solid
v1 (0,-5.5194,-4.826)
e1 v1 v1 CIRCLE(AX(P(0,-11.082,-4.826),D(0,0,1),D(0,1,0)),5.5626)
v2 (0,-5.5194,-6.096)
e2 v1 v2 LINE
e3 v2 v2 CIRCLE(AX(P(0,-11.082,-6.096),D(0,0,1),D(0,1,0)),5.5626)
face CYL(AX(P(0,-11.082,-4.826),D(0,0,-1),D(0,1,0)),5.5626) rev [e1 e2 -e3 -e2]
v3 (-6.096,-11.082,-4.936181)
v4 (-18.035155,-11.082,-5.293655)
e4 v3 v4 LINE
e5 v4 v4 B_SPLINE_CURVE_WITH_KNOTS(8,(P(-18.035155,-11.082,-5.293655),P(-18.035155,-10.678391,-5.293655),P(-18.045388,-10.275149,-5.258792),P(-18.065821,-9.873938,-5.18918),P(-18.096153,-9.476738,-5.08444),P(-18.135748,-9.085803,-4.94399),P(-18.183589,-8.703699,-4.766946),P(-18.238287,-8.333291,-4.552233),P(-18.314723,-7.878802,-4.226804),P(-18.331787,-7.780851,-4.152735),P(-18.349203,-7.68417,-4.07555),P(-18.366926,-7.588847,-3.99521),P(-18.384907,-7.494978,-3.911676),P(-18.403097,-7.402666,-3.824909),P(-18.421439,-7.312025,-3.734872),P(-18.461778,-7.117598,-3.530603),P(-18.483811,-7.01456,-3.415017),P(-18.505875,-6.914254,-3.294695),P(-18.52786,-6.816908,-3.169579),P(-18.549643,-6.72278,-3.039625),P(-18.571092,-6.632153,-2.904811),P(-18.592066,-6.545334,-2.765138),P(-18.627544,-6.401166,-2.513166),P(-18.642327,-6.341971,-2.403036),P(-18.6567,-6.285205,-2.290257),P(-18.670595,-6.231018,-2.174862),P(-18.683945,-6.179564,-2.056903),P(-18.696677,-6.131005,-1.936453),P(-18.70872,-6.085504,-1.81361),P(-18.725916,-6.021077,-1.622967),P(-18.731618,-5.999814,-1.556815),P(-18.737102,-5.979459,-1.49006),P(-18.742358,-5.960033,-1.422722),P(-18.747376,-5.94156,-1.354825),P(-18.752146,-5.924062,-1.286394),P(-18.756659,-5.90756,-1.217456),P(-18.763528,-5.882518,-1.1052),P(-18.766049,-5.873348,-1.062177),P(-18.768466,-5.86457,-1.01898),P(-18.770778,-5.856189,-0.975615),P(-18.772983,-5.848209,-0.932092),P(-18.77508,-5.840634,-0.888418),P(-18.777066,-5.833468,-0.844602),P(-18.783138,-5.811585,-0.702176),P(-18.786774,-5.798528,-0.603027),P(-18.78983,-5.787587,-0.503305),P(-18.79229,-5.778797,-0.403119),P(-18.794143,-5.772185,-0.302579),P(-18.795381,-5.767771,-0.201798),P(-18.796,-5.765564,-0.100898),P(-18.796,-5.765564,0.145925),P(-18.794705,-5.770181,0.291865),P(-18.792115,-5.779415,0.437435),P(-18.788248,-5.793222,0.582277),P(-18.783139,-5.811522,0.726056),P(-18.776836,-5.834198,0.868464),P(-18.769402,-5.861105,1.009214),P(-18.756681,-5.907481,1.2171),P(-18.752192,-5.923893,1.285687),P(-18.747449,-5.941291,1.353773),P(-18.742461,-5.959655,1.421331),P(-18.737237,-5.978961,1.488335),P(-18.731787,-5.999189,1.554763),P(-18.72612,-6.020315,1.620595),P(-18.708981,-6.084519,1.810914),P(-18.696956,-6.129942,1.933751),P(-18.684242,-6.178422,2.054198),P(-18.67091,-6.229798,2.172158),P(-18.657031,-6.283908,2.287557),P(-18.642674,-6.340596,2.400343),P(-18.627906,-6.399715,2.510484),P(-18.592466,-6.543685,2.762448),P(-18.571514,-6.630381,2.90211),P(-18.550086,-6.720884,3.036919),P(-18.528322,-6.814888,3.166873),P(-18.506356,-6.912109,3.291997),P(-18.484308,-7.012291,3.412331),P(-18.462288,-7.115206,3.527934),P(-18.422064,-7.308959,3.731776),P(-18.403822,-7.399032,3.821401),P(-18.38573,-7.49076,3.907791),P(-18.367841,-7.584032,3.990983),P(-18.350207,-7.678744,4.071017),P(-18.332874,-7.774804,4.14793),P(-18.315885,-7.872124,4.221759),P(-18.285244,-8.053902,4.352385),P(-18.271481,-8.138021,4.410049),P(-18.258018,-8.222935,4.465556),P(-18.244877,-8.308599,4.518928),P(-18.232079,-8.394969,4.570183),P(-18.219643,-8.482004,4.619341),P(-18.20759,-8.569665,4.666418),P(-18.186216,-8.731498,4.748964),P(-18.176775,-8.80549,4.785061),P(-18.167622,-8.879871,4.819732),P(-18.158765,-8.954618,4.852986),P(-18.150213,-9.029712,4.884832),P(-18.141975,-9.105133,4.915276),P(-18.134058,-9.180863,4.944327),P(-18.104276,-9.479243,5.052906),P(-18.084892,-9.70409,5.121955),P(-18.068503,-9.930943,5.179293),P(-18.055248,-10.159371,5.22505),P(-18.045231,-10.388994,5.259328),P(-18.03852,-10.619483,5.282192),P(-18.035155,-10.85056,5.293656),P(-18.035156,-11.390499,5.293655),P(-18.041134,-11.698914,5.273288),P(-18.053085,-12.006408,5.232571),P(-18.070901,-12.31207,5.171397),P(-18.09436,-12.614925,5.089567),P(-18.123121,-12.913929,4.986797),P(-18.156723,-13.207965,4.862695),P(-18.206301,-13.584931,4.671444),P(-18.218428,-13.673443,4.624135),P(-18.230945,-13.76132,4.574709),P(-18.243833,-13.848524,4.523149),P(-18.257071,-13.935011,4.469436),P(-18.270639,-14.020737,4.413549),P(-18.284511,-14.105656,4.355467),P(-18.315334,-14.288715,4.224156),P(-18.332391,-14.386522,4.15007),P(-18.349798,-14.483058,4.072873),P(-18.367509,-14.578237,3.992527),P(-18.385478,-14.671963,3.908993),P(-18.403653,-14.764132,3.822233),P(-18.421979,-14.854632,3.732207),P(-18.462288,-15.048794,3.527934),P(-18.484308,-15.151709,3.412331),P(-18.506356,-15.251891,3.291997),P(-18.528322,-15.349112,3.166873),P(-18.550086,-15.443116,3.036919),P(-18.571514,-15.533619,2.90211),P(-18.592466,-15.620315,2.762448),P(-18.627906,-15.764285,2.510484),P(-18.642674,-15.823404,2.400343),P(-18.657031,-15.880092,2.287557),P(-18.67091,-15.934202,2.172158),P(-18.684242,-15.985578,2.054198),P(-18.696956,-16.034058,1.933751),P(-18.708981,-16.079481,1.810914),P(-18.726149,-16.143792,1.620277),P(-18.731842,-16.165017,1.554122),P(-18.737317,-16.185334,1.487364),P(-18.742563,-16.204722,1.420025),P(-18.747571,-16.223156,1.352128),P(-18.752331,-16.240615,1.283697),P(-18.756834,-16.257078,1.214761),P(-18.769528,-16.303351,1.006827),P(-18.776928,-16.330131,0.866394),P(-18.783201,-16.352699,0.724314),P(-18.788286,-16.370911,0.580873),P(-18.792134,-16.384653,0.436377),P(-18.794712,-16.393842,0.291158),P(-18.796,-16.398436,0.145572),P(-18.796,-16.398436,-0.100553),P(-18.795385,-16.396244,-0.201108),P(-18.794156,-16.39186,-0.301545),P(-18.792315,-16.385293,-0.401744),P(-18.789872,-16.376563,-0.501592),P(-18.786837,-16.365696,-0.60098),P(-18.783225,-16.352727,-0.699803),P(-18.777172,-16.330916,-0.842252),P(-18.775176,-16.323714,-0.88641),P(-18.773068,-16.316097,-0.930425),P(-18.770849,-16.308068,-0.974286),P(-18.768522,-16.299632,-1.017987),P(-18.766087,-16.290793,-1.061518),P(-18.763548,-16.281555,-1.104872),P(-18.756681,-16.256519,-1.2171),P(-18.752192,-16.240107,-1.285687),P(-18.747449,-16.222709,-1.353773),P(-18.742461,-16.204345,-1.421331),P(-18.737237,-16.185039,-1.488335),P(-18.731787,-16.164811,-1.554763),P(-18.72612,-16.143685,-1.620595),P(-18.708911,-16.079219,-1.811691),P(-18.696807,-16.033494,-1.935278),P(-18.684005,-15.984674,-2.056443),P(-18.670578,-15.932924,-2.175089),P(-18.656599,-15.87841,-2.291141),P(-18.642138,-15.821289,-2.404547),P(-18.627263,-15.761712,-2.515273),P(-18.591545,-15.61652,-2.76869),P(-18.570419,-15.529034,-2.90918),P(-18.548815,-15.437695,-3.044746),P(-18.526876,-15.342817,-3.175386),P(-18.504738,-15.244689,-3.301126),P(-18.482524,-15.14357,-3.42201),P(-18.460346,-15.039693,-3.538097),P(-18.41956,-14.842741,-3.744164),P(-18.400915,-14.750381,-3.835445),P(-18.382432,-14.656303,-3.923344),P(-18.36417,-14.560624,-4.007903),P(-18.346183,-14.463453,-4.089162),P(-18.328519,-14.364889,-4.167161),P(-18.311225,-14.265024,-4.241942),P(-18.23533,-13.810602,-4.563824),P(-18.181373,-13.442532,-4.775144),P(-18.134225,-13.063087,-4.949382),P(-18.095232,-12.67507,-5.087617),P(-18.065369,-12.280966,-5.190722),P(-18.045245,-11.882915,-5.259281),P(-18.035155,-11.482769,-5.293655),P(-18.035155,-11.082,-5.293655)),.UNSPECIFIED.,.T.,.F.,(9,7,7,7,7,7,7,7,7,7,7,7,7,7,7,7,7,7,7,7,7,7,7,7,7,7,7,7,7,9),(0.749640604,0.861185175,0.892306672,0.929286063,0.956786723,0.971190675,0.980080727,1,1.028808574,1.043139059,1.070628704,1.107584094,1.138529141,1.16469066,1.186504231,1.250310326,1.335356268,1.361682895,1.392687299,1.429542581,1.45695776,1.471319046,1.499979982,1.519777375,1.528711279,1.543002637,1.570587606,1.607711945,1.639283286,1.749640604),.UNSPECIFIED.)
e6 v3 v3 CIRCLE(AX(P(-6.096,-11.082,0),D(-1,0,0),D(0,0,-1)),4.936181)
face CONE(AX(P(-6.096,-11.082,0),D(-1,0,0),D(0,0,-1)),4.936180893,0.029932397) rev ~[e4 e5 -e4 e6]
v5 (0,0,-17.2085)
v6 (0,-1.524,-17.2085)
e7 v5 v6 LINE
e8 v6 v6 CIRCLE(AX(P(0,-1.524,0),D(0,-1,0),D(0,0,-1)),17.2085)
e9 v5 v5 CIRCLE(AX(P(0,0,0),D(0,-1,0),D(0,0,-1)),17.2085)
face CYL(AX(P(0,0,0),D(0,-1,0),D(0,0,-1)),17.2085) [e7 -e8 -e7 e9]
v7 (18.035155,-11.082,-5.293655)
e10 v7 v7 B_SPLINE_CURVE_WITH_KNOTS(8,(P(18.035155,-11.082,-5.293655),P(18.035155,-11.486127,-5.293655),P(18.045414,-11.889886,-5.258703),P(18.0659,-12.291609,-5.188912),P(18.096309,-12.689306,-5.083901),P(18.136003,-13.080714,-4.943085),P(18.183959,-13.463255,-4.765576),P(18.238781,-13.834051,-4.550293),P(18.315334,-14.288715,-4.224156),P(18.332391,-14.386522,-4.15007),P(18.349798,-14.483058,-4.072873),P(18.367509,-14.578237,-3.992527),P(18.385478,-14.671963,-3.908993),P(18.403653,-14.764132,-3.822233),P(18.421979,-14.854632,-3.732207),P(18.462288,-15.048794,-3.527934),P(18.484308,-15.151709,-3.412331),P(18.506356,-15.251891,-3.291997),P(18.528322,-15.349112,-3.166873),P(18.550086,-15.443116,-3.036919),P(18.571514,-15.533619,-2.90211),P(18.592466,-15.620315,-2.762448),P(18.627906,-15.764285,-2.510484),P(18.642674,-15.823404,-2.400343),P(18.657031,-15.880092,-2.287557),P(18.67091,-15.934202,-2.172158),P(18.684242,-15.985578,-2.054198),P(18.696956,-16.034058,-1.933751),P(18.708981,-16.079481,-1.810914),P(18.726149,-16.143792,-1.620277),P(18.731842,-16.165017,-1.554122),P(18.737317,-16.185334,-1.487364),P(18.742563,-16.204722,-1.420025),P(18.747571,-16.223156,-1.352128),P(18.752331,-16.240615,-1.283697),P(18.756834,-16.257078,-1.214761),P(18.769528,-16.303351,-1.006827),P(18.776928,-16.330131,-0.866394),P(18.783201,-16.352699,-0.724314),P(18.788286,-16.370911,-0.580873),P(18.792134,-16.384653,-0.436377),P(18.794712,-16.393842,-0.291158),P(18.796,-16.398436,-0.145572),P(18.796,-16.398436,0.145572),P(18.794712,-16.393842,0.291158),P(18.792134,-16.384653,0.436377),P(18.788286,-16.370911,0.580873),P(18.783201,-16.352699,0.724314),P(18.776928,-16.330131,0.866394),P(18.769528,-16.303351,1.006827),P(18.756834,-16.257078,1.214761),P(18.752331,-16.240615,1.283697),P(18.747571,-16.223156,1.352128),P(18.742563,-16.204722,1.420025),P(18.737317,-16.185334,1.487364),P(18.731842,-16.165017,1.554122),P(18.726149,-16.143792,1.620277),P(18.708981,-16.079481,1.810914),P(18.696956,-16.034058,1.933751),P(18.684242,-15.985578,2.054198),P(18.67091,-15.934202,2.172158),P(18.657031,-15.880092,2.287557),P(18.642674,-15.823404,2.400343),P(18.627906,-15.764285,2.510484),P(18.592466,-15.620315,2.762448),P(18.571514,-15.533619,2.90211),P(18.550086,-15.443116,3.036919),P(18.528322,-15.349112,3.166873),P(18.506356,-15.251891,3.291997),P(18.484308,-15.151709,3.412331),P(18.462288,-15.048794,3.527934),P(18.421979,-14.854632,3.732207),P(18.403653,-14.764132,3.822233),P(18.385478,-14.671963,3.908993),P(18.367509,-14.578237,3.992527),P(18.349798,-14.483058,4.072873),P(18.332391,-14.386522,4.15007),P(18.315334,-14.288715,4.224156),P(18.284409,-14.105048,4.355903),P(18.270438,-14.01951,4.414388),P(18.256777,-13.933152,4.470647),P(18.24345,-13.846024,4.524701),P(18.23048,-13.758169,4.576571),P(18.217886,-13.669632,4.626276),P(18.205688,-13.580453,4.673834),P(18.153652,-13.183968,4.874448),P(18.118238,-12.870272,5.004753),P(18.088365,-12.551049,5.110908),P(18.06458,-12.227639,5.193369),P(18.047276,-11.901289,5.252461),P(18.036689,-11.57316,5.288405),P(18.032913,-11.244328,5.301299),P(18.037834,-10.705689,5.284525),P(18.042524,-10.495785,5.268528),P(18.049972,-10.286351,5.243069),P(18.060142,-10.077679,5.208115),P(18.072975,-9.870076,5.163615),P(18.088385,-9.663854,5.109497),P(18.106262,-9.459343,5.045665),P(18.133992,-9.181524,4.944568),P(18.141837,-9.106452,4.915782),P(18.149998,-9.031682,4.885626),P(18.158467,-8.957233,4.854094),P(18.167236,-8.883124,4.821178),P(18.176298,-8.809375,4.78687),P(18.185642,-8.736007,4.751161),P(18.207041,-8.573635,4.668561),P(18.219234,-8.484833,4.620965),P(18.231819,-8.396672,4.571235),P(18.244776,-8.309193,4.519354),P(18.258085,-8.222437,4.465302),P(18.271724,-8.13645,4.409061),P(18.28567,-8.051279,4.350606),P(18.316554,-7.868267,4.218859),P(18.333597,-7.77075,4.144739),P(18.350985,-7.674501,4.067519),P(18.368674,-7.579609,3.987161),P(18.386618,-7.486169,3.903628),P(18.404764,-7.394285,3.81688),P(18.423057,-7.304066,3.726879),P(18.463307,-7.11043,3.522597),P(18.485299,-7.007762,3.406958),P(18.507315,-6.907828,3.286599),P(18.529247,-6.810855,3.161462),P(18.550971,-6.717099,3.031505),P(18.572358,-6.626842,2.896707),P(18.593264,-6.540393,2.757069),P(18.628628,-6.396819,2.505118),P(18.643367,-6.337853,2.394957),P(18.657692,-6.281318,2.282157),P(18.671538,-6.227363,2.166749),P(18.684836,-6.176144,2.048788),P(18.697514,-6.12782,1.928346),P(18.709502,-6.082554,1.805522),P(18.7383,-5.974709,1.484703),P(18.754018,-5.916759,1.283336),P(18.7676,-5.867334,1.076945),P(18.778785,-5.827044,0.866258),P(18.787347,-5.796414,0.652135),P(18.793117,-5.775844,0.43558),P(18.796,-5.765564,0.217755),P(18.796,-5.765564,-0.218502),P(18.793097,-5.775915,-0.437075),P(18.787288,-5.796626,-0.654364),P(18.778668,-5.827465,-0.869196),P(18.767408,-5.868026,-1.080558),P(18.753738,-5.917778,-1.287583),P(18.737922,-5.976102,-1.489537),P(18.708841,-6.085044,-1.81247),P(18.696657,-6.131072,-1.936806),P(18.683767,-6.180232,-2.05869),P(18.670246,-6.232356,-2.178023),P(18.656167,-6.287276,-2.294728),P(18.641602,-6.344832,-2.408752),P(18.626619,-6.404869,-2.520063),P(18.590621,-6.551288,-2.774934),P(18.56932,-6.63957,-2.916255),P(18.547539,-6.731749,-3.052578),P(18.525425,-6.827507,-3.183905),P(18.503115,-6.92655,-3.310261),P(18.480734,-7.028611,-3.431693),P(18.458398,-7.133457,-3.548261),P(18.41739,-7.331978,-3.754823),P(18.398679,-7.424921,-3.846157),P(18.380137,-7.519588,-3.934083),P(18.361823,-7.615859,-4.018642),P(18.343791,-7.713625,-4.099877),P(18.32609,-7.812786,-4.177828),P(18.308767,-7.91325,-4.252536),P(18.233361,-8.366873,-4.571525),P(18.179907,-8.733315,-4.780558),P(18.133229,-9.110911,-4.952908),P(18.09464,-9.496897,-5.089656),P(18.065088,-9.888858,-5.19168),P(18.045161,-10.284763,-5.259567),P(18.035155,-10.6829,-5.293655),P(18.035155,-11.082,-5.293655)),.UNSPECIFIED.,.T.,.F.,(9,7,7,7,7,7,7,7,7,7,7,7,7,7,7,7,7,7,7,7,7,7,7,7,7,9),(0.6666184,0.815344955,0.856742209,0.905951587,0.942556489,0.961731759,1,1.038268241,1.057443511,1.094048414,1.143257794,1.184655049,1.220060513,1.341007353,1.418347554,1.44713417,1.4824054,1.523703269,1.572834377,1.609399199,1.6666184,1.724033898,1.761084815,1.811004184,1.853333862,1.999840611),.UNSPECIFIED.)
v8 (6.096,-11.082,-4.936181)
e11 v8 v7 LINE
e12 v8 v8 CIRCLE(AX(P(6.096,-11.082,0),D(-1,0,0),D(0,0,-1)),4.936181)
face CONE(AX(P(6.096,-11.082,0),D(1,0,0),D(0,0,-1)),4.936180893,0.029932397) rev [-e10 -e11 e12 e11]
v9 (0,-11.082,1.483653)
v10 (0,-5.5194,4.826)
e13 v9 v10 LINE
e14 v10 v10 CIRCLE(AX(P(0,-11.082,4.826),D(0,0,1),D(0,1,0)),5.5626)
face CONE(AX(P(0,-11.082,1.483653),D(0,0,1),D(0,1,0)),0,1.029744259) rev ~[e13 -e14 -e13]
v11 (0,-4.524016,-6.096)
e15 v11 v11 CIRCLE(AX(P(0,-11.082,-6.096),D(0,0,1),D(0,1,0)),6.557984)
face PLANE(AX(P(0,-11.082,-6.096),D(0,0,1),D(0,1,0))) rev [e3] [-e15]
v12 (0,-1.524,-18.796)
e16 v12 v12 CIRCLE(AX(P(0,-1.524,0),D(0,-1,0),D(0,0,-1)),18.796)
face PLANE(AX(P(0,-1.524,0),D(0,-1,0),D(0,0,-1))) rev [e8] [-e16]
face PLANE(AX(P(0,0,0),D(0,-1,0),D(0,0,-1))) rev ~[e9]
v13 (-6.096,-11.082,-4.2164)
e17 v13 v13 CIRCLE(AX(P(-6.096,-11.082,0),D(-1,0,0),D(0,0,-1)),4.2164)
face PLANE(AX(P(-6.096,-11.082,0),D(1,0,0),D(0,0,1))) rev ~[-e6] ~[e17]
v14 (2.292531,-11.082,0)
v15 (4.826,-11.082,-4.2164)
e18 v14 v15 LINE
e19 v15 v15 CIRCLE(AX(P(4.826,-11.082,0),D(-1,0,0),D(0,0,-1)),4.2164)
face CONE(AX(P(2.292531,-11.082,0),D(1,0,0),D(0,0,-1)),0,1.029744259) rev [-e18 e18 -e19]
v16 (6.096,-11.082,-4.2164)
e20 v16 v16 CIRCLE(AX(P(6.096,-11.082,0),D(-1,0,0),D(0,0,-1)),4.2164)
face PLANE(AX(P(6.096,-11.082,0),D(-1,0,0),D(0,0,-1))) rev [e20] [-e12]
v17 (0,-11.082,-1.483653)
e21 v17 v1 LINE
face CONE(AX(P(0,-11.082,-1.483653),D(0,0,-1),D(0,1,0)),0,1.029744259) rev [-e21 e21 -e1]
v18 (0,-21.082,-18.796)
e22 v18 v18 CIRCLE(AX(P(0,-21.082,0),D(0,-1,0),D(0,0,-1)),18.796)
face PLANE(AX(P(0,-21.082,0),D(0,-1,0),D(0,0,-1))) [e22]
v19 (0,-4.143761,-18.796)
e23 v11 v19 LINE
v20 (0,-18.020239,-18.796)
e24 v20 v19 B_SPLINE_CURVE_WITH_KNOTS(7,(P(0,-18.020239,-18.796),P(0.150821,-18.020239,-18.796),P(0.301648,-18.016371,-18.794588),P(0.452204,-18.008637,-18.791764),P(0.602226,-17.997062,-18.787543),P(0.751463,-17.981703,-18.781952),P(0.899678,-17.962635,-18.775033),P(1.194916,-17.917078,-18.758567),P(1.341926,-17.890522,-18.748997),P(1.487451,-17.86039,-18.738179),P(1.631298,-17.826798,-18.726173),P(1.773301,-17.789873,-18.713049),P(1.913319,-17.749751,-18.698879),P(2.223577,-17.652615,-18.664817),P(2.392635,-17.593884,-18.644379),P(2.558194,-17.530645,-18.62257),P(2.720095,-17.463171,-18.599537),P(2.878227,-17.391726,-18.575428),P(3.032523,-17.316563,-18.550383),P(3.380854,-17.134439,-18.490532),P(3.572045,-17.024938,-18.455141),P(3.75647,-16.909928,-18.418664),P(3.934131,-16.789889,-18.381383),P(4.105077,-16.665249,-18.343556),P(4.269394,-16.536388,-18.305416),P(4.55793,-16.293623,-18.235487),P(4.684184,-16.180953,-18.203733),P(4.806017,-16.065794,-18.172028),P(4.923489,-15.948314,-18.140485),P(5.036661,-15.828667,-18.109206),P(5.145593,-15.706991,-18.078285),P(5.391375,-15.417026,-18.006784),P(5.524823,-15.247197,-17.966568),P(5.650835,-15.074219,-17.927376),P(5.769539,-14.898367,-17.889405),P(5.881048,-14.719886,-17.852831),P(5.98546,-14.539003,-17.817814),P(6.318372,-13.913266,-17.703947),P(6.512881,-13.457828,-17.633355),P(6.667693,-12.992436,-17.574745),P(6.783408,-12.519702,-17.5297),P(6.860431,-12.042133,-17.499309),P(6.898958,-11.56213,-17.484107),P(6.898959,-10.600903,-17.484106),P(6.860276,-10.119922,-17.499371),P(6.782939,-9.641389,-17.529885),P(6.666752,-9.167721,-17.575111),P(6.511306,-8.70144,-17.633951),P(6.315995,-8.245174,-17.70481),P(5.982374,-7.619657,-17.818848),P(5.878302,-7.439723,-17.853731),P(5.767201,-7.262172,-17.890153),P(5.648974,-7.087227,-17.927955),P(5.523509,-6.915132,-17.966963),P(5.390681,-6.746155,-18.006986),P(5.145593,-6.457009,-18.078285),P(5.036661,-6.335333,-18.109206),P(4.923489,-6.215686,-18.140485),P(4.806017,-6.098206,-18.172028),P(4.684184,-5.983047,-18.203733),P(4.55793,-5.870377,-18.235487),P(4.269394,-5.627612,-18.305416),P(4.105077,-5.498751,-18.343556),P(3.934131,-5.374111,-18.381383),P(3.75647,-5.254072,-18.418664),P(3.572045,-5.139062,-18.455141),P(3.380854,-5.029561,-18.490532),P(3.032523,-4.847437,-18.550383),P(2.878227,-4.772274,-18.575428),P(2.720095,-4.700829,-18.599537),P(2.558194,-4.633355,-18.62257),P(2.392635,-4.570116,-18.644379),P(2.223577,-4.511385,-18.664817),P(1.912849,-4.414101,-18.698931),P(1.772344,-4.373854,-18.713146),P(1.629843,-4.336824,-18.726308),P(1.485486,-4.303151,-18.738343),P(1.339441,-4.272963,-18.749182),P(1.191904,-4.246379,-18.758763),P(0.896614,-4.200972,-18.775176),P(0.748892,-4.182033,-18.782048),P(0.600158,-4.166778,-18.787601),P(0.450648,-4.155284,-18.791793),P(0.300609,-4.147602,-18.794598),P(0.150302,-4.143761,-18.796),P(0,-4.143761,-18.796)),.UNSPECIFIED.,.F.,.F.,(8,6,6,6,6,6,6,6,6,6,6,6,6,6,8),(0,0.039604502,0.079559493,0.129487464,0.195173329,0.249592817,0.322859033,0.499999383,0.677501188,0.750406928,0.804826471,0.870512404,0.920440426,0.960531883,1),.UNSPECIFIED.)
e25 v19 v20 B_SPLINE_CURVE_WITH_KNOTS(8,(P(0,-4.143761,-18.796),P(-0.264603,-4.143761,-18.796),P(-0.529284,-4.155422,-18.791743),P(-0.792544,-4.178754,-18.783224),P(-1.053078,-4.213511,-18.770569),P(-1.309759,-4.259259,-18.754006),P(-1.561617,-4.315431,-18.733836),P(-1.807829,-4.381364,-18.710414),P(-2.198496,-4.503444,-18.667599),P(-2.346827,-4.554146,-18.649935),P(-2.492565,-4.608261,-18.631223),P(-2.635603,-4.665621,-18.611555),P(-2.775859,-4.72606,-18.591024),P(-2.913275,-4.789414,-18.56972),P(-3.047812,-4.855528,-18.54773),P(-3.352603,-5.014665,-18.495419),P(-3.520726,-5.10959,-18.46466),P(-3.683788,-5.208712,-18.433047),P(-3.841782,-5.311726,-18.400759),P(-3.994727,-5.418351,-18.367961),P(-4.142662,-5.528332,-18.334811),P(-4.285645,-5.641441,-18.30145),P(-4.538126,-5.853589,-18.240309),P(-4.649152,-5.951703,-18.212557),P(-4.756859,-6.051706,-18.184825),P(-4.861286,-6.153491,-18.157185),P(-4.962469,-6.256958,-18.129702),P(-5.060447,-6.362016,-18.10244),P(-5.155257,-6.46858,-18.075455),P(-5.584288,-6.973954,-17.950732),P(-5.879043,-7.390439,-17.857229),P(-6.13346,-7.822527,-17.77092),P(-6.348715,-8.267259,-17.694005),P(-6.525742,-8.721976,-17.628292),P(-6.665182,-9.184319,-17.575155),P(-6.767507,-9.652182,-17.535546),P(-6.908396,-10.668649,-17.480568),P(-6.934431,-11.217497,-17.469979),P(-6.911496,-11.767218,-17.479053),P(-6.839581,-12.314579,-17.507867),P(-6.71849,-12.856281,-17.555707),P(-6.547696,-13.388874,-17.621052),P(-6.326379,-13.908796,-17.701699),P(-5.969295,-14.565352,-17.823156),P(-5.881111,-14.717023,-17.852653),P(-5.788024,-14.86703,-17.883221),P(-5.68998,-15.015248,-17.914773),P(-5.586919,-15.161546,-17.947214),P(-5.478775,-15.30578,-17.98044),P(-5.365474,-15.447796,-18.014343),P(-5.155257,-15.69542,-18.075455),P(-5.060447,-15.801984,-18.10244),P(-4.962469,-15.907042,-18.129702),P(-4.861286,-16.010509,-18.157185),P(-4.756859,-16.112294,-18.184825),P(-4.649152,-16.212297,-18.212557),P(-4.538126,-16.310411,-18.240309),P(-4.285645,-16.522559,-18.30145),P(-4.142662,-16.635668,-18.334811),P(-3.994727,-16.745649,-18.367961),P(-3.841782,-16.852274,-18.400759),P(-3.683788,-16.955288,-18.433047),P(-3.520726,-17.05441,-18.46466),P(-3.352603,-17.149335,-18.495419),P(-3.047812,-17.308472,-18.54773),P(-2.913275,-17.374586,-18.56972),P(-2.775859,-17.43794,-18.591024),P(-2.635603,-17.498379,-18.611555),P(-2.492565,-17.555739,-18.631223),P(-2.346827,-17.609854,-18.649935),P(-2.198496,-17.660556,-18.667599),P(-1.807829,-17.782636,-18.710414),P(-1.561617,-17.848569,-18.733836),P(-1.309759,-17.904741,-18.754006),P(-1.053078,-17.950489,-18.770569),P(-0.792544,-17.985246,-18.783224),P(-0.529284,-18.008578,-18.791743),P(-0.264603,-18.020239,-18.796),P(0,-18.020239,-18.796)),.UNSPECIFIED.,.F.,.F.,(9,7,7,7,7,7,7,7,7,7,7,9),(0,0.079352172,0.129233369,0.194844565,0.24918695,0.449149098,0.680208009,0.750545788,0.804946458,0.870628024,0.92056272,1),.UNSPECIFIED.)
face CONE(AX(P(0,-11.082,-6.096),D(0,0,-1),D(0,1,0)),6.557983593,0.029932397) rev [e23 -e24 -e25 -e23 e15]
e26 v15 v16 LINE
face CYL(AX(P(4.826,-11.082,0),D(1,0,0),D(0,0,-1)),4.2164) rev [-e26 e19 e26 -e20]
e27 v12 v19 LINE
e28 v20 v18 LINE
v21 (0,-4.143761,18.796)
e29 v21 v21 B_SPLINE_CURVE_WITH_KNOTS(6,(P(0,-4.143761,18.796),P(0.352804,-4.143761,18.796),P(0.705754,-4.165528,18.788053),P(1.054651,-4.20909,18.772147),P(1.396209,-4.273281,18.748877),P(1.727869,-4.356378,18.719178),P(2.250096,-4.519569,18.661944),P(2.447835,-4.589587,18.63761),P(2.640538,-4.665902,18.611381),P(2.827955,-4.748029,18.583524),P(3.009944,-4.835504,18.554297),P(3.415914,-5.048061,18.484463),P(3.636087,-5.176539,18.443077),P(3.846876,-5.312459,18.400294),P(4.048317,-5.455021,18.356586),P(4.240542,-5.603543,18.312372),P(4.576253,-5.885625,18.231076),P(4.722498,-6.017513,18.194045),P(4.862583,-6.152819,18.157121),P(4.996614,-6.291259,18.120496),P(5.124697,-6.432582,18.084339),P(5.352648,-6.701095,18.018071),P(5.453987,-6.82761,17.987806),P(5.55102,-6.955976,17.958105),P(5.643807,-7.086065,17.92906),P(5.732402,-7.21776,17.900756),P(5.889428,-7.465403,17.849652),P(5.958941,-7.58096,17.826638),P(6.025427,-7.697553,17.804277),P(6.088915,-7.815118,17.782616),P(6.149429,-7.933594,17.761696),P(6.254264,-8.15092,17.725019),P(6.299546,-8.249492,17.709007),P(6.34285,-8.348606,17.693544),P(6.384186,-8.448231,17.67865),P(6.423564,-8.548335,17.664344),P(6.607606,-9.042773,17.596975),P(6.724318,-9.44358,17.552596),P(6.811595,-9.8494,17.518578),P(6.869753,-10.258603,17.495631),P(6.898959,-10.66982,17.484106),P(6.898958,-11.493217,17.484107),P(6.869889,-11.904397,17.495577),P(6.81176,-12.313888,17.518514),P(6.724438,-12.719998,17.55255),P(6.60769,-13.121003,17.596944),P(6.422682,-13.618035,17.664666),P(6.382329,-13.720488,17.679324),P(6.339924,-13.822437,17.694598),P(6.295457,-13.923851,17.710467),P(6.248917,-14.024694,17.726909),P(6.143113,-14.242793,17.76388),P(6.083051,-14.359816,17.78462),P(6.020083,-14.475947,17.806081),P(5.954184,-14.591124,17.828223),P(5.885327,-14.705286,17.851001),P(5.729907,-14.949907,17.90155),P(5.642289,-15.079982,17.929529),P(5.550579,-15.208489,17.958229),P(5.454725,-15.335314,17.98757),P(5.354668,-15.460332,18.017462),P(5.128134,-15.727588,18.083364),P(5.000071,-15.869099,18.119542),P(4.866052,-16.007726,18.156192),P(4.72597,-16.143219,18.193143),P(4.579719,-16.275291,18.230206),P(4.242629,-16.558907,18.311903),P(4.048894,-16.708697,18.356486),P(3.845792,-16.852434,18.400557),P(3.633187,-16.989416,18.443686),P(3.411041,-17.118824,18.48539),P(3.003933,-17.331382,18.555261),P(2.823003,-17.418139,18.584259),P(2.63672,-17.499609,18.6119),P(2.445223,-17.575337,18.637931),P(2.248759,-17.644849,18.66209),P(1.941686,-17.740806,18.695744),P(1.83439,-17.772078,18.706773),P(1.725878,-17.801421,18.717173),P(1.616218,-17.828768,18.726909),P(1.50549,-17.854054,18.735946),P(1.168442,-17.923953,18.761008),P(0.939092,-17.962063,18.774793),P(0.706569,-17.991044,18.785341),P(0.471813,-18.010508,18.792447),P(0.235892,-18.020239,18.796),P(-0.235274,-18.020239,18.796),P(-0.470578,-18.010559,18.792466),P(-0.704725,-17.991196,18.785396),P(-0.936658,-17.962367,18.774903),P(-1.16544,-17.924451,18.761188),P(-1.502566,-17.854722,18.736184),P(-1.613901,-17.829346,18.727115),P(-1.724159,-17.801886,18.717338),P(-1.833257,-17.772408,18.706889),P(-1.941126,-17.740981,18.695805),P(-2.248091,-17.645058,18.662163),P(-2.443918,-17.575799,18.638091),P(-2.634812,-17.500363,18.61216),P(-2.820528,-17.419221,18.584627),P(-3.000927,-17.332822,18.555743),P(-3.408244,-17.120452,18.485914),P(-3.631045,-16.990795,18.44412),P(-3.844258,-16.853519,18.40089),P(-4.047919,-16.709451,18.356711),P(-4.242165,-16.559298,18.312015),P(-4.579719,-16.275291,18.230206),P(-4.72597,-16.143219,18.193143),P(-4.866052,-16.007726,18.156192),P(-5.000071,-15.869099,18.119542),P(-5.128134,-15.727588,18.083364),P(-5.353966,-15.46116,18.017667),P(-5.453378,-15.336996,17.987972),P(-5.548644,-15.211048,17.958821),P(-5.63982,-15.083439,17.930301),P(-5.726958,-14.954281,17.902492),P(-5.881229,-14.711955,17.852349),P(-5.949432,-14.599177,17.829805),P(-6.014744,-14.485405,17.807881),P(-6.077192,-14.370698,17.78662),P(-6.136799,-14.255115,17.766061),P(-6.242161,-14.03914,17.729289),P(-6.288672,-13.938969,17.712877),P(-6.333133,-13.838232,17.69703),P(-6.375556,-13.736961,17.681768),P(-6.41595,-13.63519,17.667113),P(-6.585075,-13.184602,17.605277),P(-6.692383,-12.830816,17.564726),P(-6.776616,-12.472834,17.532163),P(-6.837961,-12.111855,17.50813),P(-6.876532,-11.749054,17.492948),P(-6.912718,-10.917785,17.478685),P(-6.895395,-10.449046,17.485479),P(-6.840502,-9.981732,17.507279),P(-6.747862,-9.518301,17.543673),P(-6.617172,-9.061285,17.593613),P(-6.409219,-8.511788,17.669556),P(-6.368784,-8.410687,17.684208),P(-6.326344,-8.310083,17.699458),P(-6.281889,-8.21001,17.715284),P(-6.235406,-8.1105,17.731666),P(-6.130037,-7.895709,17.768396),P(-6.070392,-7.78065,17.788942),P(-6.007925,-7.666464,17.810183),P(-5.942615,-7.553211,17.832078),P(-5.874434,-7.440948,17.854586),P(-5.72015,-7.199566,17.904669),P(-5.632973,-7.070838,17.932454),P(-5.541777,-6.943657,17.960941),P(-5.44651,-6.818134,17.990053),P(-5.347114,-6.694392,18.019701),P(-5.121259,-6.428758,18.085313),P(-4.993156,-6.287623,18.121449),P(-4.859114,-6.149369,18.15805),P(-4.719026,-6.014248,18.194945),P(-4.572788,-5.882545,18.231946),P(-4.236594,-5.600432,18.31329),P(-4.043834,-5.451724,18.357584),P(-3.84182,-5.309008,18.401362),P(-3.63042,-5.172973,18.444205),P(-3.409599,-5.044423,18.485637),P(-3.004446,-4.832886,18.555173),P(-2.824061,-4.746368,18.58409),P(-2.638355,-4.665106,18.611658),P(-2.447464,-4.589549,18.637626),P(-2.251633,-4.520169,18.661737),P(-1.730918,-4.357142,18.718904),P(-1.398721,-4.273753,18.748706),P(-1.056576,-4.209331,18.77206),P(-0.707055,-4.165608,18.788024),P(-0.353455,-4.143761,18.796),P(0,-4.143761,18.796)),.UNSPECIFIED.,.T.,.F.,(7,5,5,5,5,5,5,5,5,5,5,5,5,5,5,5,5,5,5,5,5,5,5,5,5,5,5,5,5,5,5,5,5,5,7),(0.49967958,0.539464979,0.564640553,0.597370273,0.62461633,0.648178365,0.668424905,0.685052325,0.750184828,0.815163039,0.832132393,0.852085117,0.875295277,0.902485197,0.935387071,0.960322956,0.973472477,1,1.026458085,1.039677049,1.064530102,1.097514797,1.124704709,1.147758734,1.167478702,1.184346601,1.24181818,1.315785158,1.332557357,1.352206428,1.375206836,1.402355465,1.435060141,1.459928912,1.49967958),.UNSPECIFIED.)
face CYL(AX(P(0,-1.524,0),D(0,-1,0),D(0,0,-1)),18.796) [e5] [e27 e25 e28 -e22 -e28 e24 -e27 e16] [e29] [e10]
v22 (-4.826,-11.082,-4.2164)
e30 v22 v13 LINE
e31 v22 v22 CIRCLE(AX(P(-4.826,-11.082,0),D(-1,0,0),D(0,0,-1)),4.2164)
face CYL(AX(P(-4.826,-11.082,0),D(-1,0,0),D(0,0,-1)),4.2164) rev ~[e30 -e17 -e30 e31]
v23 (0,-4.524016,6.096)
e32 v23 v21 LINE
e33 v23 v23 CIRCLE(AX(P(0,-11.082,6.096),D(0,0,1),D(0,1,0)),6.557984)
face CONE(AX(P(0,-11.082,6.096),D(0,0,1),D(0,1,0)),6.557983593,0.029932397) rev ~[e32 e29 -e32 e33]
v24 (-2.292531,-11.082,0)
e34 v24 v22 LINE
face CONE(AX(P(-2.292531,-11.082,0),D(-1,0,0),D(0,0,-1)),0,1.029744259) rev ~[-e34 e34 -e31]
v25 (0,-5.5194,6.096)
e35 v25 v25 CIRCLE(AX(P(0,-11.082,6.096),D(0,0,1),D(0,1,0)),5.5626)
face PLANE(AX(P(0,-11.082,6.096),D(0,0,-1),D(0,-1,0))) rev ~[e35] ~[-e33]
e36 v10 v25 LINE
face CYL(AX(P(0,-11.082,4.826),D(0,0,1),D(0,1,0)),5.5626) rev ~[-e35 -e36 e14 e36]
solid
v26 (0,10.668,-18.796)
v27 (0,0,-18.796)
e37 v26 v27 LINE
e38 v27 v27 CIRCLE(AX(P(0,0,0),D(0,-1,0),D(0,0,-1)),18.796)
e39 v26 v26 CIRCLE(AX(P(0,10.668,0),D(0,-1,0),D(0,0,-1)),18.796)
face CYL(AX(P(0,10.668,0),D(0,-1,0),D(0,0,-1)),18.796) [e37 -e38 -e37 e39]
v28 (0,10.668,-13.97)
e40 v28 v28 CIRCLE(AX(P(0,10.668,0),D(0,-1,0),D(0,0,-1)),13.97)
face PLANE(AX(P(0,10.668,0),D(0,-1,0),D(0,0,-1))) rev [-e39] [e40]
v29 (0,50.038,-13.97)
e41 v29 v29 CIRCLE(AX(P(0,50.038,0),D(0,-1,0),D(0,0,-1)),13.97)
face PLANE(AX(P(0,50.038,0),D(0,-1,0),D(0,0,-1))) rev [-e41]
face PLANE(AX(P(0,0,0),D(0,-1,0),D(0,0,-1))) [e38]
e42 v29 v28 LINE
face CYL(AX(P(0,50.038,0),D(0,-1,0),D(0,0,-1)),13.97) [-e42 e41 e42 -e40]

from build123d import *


with BuildPart() as part:
    # Sketch1 → Revolve1 (revolve)
    with BuildSketch(Plane(origin=(0, 0, 0), x_dir=(0, 0, -1), z_dir=(1, 0, 0))):
        Polygon((0, 50.038), (13.97, 50.038), (13.97, 10.668), (18.796, 10.668), (18.796, 0), (17.2085, 0), (17.2085, -1.524), (18.796, -1.524), (18.796, -21.082), (0, -21.082), align=None)
    revolve(axis=Axis((0, 33.650567532, 0), (0, -1, 0)))


with BuildPart() as body_2:
    # Split1: the piece on the far side of the plane
    add(part.part)
    split(bisect_by=Plane(origin=(0, 0, 0), x_dir=(0, 0, -1), z_dir=(0, -1, 0)), keep=Keep.BOTTOM)


with BuildPart() as part_1:
    add(part.part)

    # Split1
    split(bisect_by=Plane(origin=(0, 0, 0), x_dir=(0, 0, -1), z_dir=(0, -1, 0)), keep=Keep.TOP)

    # Sketch3 → 1/8 NPT Tapped Hole1 (revolve, cut)
    with BuildSketch(Plane(origin=(18.796, -11.082, 0), x_dir=(0, 0, -1), z_dir=(0, 1, 0))):
        Polygon((0, 0), (0, 16.503468714), (4.2164, 13.97), (4.2164, 12.7), (4.936180893, 12.7), (5.3164359, 0), align=None)
    f_1_8_npt_tapped_hole1 = revolve(axis=Axis((25.146, -11.082, 0), (-1, 0, 0)), mode=Mode.SUBTRACT)

    # Mirror1: 1/8 NPT Tapped Hole1 across plane
    add(f_1_8_npt_tapped_hole1.mirror(Plane(origin=(0, 0, 0), x_dir=(0, 0, 1), z_dir=(1, 0, 0))), mode=Mode.SUBTRACT)

    # Sketch5 → 1/4 NPT Tapped Hole1 (revolve, cut)
    with BuildSketch(Plane(origin=(0, -11.082, -18.796), x_dir=(0, 1, 0), z_dir=(1, 0, 0))):
        Polygon((0, 0), (0, 17.312347279), (5.5626, 13.97), (5.5626, 12.7), (6.557983593, 12.7), (6.9382386, 0), align=None)
    f_1_4_npt_tapped_hole1 = revolve(axis=Axis((0, -11.082, -25.146), (0, 0, 1)), mode=Mode.SUBTRACT)

    # Mirror2: 1/4 NPT Tapped Hole1 across plane
    add(f_1_4_npt_tapped_hole1.mirror(Plane.XY), mode=Mode.SUBTRACT)


solid = Compound([body_2.part, part_1.part])
